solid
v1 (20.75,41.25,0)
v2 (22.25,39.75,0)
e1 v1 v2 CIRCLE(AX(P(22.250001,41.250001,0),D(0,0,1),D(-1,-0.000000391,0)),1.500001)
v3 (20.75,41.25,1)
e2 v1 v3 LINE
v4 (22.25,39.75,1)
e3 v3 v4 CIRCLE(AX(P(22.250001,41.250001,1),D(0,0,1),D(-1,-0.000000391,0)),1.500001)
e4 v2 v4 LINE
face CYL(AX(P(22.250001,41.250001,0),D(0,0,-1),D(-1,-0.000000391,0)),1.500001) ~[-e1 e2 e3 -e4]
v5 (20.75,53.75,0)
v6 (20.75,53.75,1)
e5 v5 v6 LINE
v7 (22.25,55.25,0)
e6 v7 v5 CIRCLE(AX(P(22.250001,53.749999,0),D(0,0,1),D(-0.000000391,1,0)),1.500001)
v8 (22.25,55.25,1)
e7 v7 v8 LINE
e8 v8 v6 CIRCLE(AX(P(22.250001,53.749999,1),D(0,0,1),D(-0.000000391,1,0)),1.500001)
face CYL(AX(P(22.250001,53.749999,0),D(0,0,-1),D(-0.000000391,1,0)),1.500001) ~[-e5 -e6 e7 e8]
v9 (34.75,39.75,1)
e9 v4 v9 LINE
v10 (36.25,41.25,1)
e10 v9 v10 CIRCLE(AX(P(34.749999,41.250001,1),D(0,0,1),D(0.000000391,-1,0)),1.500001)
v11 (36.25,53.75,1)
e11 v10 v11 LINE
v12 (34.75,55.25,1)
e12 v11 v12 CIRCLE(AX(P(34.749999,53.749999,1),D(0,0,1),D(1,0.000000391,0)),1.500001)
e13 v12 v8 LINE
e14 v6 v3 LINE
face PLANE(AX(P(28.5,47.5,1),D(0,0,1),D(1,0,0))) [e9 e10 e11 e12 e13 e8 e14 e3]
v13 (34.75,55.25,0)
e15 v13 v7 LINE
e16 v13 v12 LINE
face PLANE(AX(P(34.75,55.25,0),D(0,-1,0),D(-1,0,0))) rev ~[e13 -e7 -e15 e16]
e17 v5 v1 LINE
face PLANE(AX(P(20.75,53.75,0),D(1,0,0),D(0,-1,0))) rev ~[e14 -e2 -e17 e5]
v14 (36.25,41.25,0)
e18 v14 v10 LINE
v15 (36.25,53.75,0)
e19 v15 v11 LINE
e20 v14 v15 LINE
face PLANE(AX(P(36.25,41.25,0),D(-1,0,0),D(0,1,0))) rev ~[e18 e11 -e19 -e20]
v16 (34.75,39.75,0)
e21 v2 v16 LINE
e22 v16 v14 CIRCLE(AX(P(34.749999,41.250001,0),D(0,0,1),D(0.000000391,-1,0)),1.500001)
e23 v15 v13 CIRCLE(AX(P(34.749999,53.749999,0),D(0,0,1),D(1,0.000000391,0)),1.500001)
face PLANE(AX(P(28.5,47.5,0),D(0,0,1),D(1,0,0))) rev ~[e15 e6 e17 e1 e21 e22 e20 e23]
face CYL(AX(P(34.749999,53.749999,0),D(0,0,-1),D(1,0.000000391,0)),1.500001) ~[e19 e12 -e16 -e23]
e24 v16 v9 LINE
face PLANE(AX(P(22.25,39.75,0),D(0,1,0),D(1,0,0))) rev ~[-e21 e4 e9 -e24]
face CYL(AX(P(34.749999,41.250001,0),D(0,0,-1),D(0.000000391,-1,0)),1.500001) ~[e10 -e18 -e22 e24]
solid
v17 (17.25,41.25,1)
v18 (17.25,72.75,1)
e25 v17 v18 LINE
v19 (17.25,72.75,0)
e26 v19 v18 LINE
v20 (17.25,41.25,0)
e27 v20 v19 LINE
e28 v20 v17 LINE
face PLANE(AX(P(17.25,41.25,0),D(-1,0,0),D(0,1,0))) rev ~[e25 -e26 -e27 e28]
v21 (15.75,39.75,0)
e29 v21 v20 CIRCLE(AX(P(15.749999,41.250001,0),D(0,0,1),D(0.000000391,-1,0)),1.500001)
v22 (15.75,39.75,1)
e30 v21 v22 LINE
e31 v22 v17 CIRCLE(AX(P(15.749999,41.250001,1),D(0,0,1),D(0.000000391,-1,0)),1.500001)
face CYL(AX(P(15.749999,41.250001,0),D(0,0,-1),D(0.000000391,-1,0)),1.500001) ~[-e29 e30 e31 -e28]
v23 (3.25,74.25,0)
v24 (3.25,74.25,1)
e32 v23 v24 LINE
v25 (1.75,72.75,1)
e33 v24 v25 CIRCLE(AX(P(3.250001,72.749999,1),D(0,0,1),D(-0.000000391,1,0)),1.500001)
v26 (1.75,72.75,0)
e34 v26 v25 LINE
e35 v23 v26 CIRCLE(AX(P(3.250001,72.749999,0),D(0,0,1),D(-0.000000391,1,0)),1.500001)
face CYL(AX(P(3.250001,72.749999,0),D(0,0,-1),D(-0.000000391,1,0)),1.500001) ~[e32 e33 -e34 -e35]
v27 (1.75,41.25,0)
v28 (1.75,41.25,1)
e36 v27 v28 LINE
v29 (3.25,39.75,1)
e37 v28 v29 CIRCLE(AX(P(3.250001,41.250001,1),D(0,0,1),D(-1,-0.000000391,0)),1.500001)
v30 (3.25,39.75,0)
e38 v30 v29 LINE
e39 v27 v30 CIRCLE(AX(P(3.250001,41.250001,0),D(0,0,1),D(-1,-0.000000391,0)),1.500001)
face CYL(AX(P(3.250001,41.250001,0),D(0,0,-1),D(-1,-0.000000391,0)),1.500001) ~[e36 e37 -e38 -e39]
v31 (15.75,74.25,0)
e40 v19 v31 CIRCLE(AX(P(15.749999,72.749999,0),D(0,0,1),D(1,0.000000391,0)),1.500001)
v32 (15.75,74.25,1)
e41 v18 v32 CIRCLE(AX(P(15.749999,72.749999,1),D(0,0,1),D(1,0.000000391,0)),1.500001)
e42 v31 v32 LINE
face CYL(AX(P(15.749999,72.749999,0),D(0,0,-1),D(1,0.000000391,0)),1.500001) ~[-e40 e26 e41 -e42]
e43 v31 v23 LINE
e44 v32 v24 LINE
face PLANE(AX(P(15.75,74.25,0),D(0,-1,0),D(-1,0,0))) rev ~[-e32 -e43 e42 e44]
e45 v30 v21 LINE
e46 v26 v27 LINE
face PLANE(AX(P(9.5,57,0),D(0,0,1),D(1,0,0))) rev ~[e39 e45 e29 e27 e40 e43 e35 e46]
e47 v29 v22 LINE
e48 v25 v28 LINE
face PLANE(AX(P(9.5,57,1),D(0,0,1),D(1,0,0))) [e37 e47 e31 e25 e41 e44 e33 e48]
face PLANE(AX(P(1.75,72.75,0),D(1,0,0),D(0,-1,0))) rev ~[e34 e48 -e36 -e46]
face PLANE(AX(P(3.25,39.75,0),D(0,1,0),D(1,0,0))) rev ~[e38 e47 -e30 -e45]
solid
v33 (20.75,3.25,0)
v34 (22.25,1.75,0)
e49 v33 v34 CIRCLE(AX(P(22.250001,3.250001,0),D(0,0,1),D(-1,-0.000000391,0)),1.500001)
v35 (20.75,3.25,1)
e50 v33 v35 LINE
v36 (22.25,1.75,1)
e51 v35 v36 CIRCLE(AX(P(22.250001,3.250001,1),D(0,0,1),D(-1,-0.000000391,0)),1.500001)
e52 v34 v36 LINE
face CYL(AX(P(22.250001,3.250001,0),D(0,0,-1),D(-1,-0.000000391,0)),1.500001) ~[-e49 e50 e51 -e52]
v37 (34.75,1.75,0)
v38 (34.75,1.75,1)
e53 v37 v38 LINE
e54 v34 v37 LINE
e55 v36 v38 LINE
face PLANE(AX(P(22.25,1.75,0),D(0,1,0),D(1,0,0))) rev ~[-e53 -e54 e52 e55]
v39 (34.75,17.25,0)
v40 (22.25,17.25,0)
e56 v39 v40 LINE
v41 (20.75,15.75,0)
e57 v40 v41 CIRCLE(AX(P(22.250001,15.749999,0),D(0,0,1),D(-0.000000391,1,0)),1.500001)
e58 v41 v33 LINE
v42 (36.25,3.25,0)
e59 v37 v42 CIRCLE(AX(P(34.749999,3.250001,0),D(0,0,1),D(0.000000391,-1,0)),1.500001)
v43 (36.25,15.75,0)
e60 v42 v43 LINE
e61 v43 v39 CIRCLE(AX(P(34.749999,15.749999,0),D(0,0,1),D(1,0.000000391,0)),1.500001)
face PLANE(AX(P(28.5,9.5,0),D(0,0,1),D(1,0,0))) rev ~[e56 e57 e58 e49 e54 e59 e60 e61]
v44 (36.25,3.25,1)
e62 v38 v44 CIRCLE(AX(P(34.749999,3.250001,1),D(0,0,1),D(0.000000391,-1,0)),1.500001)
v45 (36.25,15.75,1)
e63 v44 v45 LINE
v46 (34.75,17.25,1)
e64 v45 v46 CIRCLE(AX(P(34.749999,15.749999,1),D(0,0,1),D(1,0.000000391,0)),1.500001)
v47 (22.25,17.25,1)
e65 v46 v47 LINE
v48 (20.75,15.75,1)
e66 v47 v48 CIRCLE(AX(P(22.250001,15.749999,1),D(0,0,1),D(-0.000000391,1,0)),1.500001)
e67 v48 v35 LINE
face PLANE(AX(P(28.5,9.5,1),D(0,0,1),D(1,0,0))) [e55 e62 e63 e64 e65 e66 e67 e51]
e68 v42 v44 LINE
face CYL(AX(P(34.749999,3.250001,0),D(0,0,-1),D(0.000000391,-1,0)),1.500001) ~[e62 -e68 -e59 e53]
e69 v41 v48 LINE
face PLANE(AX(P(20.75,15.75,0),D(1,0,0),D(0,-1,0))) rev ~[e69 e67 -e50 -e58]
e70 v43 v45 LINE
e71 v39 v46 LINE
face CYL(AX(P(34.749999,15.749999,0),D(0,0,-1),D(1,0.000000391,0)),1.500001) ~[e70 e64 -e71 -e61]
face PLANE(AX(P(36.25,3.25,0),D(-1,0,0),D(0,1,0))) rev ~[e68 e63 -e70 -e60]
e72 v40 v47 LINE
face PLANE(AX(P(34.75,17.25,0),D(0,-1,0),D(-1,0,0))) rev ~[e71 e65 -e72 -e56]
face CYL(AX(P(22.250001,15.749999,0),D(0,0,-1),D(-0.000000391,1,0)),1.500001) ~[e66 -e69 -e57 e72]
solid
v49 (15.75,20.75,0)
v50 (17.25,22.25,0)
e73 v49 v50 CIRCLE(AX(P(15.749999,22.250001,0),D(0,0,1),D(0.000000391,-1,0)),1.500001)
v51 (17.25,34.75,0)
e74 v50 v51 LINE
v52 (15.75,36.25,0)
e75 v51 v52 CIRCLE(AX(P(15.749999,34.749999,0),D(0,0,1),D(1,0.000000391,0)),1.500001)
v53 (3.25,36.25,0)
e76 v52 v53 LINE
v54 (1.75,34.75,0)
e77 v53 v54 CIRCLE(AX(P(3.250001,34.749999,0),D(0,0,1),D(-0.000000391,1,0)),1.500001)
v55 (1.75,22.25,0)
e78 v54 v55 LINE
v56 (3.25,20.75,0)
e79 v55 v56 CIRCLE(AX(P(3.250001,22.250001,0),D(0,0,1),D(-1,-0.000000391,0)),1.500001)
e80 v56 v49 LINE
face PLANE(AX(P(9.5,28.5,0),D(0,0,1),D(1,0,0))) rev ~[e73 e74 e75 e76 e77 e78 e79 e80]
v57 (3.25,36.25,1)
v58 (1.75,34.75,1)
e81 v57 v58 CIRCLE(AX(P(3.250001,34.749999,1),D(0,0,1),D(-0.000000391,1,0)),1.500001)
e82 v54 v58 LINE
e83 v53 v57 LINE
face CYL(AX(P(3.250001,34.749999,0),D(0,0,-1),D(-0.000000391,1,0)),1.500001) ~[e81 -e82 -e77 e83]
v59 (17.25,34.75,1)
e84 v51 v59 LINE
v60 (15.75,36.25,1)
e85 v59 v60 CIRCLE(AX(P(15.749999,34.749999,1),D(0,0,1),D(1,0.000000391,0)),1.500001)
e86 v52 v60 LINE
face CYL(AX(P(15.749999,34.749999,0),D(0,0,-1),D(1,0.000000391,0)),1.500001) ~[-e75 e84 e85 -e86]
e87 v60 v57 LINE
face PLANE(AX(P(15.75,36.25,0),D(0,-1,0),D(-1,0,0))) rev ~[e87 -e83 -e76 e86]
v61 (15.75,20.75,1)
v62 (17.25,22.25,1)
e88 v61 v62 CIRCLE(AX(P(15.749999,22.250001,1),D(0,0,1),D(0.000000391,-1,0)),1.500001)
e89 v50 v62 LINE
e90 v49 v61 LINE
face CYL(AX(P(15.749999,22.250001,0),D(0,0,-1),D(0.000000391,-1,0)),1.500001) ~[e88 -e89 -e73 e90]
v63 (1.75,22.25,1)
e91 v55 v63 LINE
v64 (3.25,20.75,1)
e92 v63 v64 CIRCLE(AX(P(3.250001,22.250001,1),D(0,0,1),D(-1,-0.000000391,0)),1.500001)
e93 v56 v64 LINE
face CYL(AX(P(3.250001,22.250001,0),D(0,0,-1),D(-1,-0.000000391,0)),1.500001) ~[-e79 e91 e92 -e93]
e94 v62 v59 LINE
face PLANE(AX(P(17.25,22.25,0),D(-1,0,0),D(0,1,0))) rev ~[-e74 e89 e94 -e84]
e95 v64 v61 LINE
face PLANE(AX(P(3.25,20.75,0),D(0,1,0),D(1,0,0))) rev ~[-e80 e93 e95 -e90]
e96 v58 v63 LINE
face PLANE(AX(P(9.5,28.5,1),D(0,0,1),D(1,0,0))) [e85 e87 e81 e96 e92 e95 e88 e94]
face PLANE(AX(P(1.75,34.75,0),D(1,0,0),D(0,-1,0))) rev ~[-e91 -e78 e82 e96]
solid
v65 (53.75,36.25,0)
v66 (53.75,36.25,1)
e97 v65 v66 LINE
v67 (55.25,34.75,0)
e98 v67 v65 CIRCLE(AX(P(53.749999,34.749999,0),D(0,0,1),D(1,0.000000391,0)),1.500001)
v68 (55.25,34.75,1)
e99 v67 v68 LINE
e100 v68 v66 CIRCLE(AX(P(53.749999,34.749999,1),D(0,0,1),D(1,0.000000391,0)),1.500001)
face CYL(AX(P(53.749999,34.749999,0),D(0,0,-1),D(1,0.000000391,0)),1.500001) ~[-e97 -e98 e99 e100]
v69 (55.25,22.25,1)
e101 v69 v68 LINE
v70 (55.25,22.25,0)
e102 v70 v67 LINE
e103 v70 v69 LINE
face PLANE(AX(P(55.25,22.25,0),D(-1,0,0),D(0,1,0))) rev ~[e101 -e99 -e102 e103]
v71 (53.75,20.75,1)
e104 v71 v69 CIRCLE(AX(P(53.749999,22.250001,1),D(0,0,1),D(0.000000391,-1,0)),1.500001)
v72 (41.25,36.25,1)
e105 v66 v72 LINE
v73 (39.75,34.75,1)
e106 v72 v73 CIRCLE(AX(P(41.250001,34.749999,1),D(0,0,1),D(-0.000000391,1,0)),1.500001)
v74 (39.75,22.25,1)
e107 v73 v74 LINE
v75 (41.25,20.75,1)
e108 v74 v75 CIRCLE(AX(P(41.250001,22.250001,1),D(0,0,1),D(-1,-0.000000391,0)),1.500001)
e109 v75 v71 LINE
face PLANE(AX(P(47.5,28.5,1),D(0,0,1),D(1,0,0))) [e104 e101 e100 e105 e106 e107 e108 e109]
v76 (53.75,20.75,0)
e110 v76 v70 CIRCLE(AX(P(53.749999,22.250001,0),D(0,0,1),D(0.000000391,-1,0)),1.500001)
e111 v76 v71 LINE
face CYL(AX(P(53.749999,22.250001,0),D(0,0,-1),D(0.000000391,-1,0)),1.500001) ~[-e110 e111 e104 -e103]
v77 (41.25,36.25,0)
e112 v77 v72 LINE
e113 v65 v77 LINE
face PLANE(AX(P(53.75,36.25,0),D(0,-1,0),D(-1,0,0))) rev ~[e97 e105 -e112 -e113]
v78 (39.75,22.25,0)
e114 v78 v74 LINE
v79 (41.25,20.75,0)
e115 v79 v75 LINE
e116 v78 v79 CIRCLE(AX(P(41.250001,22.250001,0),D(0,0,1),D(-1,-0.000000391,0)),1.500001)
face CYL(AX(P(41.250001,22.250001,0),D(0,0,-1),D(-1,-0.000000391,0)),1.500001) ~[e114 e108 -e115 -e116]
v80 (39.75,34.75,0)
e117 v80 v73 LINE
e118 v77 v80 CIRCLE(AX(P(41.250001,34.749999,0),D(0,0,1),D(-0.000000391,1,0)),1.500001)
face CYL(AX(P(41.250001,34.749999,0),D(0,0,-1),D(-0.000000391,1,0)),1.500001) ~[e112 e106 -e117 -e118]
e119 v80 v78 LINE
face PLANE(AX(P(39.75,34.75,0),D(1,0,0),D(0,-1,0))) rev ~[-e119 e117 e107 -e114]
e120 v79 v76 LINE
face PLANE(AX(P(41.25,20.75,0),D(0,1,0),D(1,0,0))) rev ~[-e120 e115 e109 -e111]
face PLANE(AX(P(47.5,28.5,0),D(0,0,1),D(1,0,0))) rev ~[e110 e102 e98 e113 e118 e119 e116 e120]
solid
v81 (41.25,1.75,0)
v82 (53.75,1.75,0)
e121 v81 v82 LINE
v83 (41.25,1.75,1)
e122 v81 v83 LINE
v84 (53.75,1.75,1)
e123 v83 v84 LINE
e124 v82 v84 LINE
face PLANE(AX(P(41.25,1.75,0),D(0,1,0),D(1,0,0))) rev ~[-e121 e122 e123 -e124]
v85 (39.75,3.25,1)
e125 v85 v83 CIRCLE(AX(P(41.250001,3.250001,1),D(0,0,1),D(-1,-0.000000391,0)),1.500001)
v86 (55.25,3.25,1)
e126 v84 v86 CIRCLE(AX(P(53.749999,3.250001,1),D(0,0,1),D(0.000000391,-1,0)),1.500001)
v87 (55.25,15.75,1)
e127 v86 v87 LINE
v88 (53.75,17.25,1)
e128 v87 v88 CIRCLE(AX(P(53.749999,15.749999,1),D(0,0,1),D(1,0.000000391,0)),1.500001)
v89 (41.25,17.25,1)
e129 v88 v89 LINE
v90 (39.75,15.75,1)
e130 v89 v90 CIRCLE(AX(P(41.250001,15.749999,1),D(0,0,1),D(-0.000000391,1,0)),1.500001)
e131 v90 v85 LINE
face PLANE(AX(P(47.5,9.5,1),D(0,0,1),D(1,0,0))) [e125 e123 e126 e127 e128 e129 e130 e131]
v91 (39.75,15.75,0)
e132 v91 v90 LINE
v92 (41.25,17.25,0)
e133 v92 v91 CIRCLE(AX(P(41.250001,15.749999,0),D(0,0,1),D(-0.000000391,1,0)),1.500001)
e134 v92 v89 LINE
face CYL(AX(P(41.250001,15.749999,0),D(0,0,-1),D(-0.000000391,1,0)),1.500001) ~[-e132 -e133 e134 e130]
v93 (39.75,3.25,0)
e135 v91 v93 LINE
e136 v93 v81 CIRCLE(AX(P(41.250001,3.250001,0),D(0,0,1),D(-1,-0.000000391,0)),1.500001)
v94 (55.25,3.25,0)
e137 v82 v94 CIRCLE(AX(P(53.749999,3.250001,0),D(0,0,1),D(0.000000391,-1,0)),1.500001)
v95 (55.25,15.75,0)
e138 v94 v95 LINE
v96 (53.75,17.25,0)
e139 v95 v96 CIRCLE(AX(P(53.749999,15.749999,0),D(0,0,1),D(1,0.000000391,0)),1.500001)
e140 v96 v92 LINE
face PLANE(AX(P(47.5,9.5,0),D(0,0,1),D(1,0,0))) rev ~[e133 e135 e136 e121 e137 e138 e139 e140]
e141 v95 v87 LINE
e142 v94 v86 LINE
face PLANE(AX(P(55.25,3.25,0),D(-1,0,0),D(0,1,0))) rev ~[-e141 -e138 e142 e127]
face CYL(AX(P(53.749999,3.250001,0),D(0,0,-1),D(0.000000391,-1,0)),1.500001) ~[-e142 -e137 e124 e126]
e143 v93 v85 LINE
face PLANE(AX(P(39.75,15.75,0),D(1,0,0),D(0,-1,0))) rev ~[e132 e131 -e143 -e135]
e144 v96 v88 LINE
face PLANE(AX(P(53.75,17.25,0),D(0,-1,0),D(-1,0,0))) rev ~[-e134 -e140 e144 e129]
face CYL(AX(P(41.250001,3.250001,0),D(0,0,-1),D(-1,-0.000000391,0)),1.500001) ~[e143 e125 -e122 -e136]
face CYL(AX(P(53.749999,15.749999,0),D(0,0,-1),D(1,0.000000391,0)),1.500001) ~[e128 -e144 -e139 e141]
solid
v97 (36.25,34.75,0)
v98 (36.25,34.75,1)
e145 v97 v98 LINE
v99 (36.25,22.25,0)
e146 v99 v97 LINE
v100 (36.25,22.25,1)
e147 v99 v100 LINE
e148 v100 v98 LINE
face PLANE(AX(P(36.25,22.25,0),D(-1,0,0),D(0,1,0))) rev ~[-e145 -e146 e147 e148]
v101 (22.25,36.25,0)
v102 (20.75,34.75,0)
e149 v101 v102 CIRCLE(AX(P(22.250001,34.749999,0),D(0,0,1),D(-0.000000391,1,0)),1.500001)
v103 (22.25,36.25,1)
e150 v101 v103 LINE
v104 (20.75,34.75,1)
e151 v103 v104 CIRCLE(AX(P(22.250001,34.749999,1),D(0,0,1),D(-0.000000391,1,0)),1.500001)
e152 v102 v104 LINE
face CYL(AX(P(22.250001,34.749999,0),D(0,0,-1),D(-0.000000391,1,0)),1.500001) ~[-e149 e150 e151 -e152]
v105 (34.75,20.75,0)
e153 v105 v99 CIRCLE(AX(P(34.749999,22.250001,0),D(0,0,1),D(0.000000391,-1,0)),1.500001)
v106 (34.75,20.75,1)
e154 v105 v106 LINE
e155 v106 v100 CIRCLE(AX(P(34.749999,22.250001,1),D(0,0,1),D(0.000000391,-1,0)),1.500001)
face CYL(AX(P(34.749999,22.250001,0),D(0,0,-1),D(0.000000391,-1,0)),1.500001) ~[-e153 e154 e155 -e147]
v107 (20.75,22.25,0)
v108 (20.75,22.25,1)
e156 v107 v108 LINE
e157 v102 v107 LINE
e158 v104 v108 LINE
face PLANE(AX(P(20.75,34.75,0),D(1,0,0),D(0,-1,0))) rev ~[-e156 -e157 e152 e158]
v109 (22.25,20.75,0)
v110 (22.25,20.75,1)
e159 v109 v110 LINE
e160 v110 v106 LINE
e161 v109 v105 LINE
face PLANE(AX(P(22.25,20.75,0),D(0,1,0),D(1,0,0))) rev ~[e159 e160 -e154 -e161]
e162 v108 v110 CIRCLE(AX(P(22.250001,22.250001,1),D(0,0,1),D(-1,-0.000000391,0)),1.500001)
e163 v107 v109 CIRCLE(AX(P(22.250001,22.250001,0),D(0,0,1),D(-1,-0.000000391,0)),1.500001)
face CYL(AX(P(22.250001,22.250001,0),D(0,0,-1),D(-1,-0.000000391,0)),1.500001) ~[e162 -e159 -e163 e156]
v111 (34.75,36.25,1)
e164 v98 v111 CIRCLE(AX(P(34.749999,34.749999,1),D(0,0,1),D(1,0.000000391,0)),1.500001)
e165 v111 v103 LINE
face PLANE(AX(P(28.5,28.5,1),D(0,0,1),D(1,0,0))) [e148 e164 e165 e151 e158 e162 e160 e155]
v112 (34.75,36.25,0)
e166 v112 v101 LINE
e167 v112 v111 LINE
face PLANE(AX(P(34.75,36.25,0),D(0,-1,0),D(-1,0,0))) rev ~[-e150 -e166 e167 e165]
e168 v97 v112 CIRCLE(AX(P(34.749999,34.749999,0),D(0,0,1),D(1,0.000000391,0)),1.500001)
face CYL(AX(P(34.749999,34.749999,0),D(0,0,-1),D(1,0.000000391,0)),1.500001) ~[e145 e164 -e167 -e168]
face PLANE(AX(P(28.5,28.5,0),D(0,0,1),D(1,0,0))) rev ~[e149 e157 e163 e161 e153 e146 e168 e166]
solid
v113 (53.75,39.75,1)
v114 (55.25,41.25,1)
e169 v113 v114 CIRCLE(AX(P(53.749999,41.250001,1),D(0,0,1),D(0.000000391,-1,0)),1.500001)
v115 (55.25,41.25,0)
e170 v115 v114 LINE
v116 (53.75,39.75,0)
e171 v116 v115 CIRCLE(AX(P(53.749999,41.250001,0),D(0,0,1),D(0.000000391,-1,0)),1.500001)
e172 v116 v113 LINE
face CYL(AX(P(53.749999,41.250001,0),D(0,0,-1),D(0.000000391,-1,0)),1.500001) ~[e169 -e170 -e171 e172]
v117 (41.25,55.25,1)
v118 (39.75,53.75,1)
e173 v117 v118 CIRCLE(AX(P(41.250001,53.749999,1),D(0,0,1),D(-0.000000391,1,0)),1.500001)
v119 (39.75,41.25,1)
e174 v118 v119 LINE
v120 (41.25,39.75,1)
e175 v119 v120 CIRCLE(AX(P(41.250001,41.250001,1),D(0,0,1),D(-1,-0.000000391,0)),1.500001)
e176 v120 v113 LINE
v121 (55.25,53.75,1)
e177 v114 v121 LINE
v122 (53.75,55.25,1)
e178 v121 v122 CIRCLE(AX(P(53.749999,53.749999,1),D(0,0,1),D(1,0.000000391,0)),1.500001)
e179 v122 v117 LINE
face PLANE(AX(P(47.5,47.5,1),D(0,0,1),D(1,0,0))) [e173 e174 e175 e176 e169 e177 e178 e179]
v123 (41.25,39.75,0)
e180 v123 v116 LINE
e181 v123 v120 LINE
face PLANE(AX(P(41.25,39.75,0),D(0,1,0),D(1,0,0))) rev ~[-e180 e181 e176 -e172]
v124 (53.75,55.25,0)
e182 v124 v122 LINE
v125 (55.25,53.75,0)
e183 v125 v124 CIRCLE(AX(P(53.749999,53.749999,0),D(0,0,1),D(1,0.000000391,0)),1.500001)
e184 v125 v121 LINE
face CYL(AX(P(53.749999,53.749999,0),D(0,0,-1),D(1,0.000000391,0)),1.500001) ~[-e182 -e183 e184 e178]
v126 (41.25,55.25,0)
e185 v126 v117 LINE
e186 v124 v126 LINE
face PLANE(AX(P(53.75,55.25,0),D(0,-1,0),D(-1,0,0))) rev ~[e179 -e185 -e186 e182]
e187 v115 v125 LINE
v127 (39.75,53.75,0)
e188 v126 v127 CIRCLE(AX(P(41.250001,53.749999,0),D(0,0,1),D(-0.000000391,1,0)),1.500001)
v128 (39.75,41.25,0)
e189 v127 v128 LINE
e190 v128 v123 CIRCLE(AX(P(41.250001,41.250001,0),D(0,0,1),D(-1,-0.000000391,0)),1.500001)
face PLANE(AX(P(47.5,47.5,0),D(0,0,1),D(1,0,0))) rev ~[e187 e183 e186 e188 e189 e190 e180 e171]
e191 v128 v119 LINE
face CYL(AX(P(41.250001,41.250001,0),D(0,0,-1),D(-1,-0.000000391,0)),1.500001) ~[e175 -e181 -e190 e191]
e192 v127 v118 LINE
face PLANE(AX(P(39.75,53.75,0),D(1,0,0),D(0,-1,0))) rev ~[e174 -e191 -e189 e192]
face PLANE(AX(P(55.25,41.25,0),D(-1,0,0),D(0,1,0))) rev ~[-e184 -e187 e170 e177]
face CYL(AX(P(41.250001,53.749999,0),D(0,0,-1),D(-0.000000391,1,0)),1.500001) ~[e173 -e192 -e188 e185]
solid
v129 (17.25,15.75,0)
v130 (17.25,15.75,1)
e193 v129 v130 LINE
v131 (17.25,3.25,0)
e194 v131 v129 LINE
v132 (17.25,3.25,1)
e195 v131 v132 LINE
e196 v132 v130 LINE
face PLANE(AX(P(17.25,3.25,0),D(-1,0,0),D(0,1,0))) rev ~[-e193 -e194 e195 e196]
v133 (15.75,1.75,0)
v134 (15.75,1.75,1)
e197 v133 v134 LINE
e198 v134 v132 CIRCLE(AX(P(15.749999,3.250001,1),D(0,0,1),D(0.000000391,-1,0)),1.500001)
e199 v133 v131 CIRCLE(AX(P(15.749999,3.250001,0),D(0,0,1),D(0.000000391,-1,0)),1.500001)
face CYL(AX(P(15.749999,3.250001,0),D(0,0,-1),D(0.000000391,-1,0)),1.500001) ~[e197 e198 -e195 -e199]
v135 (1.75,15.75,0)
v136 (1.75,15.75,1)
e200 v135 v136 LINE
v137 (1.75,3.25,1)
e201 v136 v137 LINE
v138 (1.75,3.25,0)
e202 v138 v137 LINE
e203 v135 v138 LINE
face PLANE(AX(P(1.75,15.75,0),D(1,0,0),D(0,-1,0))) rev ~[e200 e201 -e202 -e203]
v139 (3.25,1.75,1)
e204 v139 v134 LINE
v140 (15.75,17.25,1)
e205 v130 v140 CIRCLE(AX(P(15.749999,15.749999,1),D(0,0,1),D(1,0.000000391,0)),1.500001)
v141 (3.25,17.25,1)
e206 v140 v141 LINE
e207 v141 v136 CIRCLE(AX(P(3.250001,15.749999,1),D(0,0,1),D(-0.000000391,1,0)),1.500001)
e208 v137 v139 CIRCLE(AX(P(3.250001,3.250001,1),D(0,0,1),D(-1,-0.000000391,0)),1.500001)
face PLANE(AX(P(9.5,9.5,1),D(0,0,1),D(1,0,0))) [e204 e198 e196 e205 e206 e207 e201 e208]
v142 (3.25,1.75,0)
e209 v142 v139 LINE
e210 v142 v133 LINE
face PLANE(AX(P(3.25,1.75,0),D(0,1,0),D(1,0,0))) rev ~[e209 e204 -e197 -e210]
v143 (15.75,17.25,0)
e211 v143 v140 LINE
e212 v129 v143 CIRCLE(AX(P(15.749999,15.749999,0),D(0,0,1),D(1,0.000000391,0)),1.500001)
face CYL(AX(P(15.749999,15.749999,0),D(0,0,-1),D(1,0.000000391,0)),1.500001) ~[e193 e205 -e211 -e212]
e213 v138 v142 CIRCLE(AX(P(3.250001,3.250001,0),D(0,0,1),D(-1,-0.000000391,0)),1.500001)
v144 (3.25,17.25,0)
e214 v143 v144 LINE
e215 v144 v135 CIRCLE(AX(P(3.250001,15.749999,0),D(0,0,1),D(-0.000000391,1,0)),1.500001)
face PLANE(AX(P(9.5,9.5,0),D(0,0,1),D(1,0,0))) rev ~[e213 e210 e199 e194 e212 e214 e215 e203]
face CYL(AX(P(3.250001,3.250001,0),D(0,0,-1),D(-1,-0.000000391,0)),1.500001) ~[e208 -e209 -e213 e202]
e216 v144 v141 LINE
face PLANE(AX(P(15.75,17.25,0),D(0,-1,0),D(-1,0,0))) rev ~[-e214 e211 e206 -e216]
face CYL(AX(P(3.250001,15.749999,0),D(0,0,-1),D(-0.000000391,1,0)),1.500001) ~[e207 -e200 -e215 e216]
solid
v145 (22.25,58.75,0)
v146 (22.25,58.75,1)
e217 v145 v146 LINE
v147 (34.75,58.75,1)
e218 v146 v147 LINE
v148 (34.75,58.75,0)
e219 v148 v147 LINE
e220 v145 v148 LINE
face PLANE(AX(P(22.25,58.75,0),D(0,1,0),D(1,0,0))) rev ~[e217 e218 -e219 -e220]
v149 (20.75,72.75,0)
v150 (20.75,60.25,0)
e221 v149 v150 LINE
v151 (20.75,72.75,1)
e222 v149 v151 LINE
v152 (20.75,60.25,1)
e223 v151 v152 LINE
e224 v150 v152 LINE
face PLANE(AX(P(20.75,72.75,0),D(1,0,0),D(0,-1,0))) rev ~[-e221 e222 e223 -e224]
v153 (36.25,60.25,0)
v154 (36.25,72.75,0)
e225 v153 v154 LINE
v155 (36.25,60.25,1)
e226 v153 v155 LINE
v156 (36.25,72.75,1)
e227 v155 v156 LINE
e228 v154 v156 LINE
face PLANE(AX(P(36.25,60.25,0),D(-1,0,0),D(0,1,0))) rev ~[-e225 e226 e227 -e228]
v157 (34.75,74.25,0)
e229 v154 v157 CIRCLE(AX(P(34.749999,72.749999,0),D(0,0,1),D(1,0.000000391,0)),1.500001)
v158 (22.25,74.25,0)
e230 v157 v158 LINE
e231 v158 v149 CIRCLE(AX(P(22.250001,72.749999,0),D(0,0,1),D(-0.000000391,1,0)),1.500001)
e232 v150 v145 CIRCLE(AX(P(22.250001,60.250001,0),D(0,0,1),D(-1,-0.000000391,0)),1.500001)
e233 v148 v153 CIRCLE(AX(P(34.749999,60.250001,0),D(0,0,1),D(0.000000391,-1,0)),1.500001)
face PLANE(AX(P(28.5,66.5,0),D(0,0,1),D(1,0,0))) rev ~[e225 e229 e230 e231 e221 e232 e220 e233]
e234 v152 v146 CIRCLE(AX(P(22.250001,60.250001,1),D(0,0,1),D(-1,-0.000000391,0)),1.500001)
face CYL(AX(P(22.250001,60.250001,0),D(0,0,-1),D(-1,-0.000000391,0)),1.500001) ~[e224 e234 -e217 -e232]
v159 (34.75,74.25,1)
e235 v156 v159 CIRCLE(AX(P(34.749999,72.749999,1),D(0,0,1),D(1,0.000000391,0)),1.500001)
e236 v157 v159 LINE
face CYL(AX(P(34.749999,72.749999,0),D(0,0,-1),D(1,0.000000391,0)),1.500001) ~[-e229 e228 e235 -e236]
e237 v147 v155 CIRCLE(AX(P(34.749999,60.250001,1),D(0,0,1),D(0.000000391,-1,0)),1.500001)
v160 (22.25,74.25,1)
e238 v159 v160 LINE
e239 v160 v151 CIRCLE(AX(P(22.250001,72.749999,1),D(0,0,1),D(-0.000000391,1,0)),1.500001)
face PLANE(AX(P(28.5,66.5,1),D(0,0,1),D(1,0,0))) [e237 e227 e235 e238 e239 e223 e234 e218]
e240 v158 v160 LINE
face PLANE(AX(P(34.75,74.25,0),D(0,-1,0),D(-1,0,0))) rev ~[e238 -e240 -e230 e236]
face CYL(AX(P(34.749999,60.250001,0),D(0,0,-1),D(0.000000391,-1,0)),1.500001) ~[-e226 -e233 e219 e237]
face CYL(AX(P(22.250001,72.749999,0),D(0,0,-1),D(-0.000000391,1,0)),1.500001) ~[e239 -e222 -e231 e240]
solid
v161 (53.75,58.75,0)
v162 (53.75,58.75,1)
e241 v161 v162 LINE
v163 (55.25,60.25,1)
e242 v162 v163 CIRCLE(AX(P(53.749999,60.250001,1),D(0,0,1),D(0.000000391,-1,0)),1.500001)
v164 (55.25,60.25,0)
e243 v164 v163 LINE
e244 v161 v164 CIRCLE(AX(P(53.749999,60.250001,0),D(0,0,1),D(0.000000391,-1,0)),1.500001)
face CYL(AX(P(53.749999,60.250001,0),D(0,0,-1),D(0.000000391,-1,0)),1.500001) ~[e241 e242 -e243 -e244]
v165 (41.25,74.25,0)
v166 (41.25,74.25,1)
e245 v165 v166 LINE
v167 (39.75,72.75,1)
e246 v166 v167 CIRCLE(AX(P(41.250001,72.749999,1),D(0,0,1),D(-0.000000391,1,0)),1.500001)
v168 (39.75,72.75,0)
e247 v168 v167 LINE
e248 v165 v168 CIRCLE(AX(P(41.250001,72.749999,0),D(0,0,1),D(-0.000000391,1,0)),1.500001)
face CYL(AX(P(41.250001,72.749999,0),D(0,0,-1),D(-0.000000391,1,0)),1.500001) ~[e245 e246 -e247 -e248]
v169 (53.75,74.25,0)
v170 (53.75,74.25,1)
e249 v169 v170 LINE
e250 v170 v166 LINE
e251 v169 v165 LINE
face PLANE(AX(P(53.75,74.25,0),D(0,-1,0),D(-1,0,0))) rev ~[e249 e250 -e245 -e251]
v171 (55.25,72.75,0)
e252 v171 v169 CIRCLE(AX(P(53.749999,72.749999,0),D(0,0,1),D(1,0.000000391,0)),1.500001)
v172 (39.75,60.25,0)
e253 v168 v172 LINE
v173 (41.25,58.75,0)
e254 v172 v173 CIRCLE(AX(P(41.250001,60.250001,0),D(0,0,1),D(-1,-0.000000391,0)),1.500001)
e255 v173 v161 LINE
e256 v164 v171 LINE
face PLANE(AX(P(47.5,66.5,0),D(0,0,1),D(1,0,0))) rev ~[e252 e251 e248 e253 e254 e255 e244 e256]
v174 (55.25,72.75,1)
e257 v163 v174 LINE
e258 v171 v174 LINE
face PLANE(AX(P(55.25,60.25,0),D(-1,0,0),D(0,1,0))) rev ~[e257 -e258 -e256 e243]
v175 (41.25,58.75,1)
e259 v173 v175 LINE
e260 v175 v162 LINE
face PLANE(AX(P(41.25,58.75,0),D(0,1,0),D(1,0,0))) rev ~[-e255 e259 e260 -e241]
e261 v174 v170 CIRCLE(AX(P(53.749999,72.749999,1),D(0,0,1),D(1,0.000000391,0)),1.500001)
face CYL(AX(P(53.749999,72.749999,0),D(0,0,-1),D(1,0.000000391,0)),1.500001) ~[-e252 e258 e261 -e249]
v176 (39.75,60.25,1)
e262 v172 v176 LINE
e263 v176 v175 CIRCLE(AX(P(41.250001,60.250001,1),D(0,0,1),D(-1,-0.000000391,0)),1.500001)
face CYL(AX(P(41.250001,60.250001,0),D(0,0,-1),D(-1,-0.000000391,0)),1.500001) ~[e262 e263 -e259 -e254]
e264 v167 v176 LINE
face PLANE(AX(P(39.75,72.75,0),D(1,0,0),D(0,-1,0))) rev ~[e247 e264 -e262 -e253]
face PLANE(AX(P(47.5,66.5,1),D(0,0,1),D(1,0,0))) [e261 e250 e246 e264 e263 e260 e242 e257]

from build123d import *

# Parameters (mm, degrees)
F1_DEPTH = 1


with BuildPart() as f1:
    # F0 (on Top) → F1 (new body)
    with BuildSketch(Plane.XY):
        with BuildLine():
            Line((15.75, 17.25), (3.25, 17.25))
            ThreePointArc((3.25, 17.25), (2.18934, 16.81066), (1.75, 15.75))
            Line((1.75, 15.75), (1.75, 3.25))
            ThreePointArc((1.75, 3.25), (2.18934, 2.18934), (3.25, 1.75))
            Line((3.25, 1.75), (15.75, 1.75))
            ThreePointArc((15.75, 1.75), (16.81066, 2.18934), (17.25, 3.25))
            Line((17.25, 3.25), (17.25, 15.75))
            ThreePointArc((17.25, 15.75), (16.81066, 16.81066), (15.75, 17.25))
        make_face()
        with BuildLine():
            Line((17.25, 22.25), (17.25, 34.75))
            ThreePointArc((17.25, 34.75), (16.81066, 35.81066), (15.75, 36.25))
            Line((15.75, 36.25), (3.25, 36.25))
            ThreePointArc((3.25, 36.25), (2.18934, 35.81066), (1.75, 34.75))
            Line((1.75, 34.75), (1.75, 22.25))
            ThreePointArc((1.75, 22.25), (2.18934, 21.18934), (3.25, 20.75))
            Line((3.25, 20.75), (15.75, 20.75))
            ThreePointArc((15.75, 20.75), (16.81066, 21.18934), (17.25, 22.25))
        make_face()
        with BuildLine():
            Line((3.25, 39.75), (15.75, 39.75))
            ThreePointArc((15.75, 39.75), (16.81066, 40.18934), (17.25, 41.25))
            Line((17.25, 41.25), (17.25, 53.75))
            Line((17.25, 53.75), (17.25, 60.25))
            Line((17.25, 60.25), (17.25, 72.75))
            ThreePointArc((17.25, 72.75), (16.81066, 73.81066), (15.75, 74.25))
            Line((15.75, 74.25), (3.25, 74.25))
            ThreePointArc((3.25, 74.25), (2.18934, 73.81066), (1.75, 72.75))
            Line((1.75, 72.75), (1.75, 60.25))
            Line((1.75, 60.25), (1.75, 53.75))
            Line((1.75, 53.75), (1.75, 41.25))
            ThreePointArc((1.75, 41.25), (2.18934, 40.18934), (3.25, 39.75))
        make_face()
        with BuildLine():
            Line((36.25, 3.25), (36.25, 15.75))
            ThreePointArc((36.25, 15.75), (35.81066, 16.81066), (34.75, 17.25))
            Line((34.75, 17.25), (22.25, 17.25))
            ThreePointArc((22.25, 17.25), (21.18934, 16.81066), (20.75, 15.75))
            Line((20.75, 15.75), (20.75, 3.25))
            ThreePointArc((20.75, 3.25), (21.18934, 2.18934), (22.25, 1.75))
            Line((22.25, 1.75), (34.75, 1.75))
            ThreePointArc((34.75, 1.75), (35.81066, 2.18934), (36.25, 3.25))
        make_face()
        with BuildLine():
            Line((36.25, 22.25), (36.25, 34.75))
            ThreePointArc((36.25, 34.75), (35.81066, 35.81066), (34.75, 36.25))
            Line((34.75, 36.25), (22.25, 36.25))
            ThreePointArc((22.25, 36.25), (21.18934, 35.81066), (20.75, 34.75))
            Line((20.75, 34.75), (20.75, 22.25))
            ThreePointArc((20.75, 22.25), (21.18934, 21.18934), (22.25, 20.75))
            Line((22.25, 20.75), (34.75, 20.75))
            ThreePointArc((34.75, 20.75), (35.81066, 21.18934), (36.25, 22.25))
        make_face()
        with BuildLine():
            Line((36.25, 41.25), (36.25, 53.75))
            ThreePointArc((36.25, 53.75), (35.81066, 54.81066), (34.75, 55.25))
            Line((34.75, 55.25), (22.25, 55.25))
            ThreePointArc((22.25, 55.25), (21.18934, 54.81066), (20.75, 53.75))
            Line((20.75, 53.75), (20.75, 41.25))
            ThreePointArc((20.75, 41.25), (21.18934, 40.18934), (22.25, 39.75))
            Line((22.25, 39.75), (34.75, 39.75))
            ThreePointArc((34.75, 39.75), (35.81066, 40.18934), (36.25, 41.25))
        make_face()
        with BuildLine():
            Line((36.25, 60.25), (36.25, 72.75))
            ThreePointArc((36.25, 72.75), (35.81066, 73.81066), (34.75, 74.25))
            Line((34.75, 74.25), (22.25, 74.25))
            ThreePointArc((22.25, 74.25), (21.18934, 73.81066), (20.75, 72.75))
            Line((20.75, 72.75), (20.75, 60.25))
            ThreePointArc((20.75, 60.25), (21.18934, 59.18934), (22.25, 58.75))
            Line((22.25, 58.75), (34.75, 58.75))
            ThreePointArc((34.75, 58.75), (35.81066, 59.18934), (36.25, 60.25))
        make_face()
        with BuildLine():
            Line((55.25, 3.25), (55.25, 15.75))
            ThreePointArc((55.25, 15.75), (54.81066, 16.81066), (53.75, 17.25))
            Line((53.75, 17.25), (41.25, 17.25))
            ThreePointArc((41.25, 17.25), (40.18934, 16.81066), (39.75, 15.75))
            Line((39.75, 15.75), (39.75, 3.25))
            ThreePointArc((39.75, 3.25), (40.18934, 2.18934), (41.25, 1.75))
            Line((41.25, 1.75), (53.75, 1.75))
            ThreePointArc((53.75, 1.75), (54.81066, 2.18934), (55.25, 3.25))
        make_face()
        with BuildLine():
            Line((55.25, 22.25), (55.25, 34.75))
            ThreePointArc((55.25, 34.75), (54.81066, 35.81066), (53.75, 36.25))
            Line((53.75, 36.25), (41.25, 36.25))
            ThreePointArc((41.25, 36.25), (40.18934, 35.81066), (39.75, 34.75))
            Line((39.75, 34.75), (39.75, 22.25))
            ThreePointArc((39.75, 22.25), (40.18934, 21.18934), (41.25, 20.75))
            Line((41.25, 20.75), (53.75, 20.75))
            ThreePointArc((53.75, 20.75), (54.81066, 21.18934), (55.25, 22.25))
        make_face()
        with BuildLine():
            Line((55.25, 41.25), (55.25, 53.75))
            ThreePointArc((55.25, 53.75), (54.81066, 54.81066), (53.75, 55.25))
            Line((53.75, 55.25), (41.25, 55.25))
            ThreePointArc((41.25, 55.25), (40.18934, 54.81066), (39.75, 53.75))
            Line((39.75, 53.75), (39.75, 41.25))
            ThreePointArc((39.75, 41.25), (40.18934, 40.18934), (41.25, 39.75))
            Line((41.25, 39.75), (53.75, 39.75))
            ThreePointArc((53.75, 39.75), (54.81066, 40.18934), (55.25, 41.25))
        make_face()
        with BuildLine():
            Line((55.25, 60.25), (55.25, 72.75))
            ThreePointArc((55.25, 72.75), (54.81066, 73.81066), (53.75, 74.25))
            Line((53.75, 74.25), (41.25, 74.25))
            ThreePointArc((41.25, 74.25), (40.18934, 73.81066), (39.75, 72.75))
            Line((39.75, 72.75), (39.75, 60.25))
            ThreePointArc((39.75, 60.25), (40.18934, 59.18934), (41.25, 58.75))
            Line((41.25, 58.75), (53.75, 58.75))
            ThreePointArc((53.75, 58.75), (54.81066, 59.18934), (55.25, 60.25))
        make_face()
    extrude(amount=F1_DEPTH)


solid = f1.part
